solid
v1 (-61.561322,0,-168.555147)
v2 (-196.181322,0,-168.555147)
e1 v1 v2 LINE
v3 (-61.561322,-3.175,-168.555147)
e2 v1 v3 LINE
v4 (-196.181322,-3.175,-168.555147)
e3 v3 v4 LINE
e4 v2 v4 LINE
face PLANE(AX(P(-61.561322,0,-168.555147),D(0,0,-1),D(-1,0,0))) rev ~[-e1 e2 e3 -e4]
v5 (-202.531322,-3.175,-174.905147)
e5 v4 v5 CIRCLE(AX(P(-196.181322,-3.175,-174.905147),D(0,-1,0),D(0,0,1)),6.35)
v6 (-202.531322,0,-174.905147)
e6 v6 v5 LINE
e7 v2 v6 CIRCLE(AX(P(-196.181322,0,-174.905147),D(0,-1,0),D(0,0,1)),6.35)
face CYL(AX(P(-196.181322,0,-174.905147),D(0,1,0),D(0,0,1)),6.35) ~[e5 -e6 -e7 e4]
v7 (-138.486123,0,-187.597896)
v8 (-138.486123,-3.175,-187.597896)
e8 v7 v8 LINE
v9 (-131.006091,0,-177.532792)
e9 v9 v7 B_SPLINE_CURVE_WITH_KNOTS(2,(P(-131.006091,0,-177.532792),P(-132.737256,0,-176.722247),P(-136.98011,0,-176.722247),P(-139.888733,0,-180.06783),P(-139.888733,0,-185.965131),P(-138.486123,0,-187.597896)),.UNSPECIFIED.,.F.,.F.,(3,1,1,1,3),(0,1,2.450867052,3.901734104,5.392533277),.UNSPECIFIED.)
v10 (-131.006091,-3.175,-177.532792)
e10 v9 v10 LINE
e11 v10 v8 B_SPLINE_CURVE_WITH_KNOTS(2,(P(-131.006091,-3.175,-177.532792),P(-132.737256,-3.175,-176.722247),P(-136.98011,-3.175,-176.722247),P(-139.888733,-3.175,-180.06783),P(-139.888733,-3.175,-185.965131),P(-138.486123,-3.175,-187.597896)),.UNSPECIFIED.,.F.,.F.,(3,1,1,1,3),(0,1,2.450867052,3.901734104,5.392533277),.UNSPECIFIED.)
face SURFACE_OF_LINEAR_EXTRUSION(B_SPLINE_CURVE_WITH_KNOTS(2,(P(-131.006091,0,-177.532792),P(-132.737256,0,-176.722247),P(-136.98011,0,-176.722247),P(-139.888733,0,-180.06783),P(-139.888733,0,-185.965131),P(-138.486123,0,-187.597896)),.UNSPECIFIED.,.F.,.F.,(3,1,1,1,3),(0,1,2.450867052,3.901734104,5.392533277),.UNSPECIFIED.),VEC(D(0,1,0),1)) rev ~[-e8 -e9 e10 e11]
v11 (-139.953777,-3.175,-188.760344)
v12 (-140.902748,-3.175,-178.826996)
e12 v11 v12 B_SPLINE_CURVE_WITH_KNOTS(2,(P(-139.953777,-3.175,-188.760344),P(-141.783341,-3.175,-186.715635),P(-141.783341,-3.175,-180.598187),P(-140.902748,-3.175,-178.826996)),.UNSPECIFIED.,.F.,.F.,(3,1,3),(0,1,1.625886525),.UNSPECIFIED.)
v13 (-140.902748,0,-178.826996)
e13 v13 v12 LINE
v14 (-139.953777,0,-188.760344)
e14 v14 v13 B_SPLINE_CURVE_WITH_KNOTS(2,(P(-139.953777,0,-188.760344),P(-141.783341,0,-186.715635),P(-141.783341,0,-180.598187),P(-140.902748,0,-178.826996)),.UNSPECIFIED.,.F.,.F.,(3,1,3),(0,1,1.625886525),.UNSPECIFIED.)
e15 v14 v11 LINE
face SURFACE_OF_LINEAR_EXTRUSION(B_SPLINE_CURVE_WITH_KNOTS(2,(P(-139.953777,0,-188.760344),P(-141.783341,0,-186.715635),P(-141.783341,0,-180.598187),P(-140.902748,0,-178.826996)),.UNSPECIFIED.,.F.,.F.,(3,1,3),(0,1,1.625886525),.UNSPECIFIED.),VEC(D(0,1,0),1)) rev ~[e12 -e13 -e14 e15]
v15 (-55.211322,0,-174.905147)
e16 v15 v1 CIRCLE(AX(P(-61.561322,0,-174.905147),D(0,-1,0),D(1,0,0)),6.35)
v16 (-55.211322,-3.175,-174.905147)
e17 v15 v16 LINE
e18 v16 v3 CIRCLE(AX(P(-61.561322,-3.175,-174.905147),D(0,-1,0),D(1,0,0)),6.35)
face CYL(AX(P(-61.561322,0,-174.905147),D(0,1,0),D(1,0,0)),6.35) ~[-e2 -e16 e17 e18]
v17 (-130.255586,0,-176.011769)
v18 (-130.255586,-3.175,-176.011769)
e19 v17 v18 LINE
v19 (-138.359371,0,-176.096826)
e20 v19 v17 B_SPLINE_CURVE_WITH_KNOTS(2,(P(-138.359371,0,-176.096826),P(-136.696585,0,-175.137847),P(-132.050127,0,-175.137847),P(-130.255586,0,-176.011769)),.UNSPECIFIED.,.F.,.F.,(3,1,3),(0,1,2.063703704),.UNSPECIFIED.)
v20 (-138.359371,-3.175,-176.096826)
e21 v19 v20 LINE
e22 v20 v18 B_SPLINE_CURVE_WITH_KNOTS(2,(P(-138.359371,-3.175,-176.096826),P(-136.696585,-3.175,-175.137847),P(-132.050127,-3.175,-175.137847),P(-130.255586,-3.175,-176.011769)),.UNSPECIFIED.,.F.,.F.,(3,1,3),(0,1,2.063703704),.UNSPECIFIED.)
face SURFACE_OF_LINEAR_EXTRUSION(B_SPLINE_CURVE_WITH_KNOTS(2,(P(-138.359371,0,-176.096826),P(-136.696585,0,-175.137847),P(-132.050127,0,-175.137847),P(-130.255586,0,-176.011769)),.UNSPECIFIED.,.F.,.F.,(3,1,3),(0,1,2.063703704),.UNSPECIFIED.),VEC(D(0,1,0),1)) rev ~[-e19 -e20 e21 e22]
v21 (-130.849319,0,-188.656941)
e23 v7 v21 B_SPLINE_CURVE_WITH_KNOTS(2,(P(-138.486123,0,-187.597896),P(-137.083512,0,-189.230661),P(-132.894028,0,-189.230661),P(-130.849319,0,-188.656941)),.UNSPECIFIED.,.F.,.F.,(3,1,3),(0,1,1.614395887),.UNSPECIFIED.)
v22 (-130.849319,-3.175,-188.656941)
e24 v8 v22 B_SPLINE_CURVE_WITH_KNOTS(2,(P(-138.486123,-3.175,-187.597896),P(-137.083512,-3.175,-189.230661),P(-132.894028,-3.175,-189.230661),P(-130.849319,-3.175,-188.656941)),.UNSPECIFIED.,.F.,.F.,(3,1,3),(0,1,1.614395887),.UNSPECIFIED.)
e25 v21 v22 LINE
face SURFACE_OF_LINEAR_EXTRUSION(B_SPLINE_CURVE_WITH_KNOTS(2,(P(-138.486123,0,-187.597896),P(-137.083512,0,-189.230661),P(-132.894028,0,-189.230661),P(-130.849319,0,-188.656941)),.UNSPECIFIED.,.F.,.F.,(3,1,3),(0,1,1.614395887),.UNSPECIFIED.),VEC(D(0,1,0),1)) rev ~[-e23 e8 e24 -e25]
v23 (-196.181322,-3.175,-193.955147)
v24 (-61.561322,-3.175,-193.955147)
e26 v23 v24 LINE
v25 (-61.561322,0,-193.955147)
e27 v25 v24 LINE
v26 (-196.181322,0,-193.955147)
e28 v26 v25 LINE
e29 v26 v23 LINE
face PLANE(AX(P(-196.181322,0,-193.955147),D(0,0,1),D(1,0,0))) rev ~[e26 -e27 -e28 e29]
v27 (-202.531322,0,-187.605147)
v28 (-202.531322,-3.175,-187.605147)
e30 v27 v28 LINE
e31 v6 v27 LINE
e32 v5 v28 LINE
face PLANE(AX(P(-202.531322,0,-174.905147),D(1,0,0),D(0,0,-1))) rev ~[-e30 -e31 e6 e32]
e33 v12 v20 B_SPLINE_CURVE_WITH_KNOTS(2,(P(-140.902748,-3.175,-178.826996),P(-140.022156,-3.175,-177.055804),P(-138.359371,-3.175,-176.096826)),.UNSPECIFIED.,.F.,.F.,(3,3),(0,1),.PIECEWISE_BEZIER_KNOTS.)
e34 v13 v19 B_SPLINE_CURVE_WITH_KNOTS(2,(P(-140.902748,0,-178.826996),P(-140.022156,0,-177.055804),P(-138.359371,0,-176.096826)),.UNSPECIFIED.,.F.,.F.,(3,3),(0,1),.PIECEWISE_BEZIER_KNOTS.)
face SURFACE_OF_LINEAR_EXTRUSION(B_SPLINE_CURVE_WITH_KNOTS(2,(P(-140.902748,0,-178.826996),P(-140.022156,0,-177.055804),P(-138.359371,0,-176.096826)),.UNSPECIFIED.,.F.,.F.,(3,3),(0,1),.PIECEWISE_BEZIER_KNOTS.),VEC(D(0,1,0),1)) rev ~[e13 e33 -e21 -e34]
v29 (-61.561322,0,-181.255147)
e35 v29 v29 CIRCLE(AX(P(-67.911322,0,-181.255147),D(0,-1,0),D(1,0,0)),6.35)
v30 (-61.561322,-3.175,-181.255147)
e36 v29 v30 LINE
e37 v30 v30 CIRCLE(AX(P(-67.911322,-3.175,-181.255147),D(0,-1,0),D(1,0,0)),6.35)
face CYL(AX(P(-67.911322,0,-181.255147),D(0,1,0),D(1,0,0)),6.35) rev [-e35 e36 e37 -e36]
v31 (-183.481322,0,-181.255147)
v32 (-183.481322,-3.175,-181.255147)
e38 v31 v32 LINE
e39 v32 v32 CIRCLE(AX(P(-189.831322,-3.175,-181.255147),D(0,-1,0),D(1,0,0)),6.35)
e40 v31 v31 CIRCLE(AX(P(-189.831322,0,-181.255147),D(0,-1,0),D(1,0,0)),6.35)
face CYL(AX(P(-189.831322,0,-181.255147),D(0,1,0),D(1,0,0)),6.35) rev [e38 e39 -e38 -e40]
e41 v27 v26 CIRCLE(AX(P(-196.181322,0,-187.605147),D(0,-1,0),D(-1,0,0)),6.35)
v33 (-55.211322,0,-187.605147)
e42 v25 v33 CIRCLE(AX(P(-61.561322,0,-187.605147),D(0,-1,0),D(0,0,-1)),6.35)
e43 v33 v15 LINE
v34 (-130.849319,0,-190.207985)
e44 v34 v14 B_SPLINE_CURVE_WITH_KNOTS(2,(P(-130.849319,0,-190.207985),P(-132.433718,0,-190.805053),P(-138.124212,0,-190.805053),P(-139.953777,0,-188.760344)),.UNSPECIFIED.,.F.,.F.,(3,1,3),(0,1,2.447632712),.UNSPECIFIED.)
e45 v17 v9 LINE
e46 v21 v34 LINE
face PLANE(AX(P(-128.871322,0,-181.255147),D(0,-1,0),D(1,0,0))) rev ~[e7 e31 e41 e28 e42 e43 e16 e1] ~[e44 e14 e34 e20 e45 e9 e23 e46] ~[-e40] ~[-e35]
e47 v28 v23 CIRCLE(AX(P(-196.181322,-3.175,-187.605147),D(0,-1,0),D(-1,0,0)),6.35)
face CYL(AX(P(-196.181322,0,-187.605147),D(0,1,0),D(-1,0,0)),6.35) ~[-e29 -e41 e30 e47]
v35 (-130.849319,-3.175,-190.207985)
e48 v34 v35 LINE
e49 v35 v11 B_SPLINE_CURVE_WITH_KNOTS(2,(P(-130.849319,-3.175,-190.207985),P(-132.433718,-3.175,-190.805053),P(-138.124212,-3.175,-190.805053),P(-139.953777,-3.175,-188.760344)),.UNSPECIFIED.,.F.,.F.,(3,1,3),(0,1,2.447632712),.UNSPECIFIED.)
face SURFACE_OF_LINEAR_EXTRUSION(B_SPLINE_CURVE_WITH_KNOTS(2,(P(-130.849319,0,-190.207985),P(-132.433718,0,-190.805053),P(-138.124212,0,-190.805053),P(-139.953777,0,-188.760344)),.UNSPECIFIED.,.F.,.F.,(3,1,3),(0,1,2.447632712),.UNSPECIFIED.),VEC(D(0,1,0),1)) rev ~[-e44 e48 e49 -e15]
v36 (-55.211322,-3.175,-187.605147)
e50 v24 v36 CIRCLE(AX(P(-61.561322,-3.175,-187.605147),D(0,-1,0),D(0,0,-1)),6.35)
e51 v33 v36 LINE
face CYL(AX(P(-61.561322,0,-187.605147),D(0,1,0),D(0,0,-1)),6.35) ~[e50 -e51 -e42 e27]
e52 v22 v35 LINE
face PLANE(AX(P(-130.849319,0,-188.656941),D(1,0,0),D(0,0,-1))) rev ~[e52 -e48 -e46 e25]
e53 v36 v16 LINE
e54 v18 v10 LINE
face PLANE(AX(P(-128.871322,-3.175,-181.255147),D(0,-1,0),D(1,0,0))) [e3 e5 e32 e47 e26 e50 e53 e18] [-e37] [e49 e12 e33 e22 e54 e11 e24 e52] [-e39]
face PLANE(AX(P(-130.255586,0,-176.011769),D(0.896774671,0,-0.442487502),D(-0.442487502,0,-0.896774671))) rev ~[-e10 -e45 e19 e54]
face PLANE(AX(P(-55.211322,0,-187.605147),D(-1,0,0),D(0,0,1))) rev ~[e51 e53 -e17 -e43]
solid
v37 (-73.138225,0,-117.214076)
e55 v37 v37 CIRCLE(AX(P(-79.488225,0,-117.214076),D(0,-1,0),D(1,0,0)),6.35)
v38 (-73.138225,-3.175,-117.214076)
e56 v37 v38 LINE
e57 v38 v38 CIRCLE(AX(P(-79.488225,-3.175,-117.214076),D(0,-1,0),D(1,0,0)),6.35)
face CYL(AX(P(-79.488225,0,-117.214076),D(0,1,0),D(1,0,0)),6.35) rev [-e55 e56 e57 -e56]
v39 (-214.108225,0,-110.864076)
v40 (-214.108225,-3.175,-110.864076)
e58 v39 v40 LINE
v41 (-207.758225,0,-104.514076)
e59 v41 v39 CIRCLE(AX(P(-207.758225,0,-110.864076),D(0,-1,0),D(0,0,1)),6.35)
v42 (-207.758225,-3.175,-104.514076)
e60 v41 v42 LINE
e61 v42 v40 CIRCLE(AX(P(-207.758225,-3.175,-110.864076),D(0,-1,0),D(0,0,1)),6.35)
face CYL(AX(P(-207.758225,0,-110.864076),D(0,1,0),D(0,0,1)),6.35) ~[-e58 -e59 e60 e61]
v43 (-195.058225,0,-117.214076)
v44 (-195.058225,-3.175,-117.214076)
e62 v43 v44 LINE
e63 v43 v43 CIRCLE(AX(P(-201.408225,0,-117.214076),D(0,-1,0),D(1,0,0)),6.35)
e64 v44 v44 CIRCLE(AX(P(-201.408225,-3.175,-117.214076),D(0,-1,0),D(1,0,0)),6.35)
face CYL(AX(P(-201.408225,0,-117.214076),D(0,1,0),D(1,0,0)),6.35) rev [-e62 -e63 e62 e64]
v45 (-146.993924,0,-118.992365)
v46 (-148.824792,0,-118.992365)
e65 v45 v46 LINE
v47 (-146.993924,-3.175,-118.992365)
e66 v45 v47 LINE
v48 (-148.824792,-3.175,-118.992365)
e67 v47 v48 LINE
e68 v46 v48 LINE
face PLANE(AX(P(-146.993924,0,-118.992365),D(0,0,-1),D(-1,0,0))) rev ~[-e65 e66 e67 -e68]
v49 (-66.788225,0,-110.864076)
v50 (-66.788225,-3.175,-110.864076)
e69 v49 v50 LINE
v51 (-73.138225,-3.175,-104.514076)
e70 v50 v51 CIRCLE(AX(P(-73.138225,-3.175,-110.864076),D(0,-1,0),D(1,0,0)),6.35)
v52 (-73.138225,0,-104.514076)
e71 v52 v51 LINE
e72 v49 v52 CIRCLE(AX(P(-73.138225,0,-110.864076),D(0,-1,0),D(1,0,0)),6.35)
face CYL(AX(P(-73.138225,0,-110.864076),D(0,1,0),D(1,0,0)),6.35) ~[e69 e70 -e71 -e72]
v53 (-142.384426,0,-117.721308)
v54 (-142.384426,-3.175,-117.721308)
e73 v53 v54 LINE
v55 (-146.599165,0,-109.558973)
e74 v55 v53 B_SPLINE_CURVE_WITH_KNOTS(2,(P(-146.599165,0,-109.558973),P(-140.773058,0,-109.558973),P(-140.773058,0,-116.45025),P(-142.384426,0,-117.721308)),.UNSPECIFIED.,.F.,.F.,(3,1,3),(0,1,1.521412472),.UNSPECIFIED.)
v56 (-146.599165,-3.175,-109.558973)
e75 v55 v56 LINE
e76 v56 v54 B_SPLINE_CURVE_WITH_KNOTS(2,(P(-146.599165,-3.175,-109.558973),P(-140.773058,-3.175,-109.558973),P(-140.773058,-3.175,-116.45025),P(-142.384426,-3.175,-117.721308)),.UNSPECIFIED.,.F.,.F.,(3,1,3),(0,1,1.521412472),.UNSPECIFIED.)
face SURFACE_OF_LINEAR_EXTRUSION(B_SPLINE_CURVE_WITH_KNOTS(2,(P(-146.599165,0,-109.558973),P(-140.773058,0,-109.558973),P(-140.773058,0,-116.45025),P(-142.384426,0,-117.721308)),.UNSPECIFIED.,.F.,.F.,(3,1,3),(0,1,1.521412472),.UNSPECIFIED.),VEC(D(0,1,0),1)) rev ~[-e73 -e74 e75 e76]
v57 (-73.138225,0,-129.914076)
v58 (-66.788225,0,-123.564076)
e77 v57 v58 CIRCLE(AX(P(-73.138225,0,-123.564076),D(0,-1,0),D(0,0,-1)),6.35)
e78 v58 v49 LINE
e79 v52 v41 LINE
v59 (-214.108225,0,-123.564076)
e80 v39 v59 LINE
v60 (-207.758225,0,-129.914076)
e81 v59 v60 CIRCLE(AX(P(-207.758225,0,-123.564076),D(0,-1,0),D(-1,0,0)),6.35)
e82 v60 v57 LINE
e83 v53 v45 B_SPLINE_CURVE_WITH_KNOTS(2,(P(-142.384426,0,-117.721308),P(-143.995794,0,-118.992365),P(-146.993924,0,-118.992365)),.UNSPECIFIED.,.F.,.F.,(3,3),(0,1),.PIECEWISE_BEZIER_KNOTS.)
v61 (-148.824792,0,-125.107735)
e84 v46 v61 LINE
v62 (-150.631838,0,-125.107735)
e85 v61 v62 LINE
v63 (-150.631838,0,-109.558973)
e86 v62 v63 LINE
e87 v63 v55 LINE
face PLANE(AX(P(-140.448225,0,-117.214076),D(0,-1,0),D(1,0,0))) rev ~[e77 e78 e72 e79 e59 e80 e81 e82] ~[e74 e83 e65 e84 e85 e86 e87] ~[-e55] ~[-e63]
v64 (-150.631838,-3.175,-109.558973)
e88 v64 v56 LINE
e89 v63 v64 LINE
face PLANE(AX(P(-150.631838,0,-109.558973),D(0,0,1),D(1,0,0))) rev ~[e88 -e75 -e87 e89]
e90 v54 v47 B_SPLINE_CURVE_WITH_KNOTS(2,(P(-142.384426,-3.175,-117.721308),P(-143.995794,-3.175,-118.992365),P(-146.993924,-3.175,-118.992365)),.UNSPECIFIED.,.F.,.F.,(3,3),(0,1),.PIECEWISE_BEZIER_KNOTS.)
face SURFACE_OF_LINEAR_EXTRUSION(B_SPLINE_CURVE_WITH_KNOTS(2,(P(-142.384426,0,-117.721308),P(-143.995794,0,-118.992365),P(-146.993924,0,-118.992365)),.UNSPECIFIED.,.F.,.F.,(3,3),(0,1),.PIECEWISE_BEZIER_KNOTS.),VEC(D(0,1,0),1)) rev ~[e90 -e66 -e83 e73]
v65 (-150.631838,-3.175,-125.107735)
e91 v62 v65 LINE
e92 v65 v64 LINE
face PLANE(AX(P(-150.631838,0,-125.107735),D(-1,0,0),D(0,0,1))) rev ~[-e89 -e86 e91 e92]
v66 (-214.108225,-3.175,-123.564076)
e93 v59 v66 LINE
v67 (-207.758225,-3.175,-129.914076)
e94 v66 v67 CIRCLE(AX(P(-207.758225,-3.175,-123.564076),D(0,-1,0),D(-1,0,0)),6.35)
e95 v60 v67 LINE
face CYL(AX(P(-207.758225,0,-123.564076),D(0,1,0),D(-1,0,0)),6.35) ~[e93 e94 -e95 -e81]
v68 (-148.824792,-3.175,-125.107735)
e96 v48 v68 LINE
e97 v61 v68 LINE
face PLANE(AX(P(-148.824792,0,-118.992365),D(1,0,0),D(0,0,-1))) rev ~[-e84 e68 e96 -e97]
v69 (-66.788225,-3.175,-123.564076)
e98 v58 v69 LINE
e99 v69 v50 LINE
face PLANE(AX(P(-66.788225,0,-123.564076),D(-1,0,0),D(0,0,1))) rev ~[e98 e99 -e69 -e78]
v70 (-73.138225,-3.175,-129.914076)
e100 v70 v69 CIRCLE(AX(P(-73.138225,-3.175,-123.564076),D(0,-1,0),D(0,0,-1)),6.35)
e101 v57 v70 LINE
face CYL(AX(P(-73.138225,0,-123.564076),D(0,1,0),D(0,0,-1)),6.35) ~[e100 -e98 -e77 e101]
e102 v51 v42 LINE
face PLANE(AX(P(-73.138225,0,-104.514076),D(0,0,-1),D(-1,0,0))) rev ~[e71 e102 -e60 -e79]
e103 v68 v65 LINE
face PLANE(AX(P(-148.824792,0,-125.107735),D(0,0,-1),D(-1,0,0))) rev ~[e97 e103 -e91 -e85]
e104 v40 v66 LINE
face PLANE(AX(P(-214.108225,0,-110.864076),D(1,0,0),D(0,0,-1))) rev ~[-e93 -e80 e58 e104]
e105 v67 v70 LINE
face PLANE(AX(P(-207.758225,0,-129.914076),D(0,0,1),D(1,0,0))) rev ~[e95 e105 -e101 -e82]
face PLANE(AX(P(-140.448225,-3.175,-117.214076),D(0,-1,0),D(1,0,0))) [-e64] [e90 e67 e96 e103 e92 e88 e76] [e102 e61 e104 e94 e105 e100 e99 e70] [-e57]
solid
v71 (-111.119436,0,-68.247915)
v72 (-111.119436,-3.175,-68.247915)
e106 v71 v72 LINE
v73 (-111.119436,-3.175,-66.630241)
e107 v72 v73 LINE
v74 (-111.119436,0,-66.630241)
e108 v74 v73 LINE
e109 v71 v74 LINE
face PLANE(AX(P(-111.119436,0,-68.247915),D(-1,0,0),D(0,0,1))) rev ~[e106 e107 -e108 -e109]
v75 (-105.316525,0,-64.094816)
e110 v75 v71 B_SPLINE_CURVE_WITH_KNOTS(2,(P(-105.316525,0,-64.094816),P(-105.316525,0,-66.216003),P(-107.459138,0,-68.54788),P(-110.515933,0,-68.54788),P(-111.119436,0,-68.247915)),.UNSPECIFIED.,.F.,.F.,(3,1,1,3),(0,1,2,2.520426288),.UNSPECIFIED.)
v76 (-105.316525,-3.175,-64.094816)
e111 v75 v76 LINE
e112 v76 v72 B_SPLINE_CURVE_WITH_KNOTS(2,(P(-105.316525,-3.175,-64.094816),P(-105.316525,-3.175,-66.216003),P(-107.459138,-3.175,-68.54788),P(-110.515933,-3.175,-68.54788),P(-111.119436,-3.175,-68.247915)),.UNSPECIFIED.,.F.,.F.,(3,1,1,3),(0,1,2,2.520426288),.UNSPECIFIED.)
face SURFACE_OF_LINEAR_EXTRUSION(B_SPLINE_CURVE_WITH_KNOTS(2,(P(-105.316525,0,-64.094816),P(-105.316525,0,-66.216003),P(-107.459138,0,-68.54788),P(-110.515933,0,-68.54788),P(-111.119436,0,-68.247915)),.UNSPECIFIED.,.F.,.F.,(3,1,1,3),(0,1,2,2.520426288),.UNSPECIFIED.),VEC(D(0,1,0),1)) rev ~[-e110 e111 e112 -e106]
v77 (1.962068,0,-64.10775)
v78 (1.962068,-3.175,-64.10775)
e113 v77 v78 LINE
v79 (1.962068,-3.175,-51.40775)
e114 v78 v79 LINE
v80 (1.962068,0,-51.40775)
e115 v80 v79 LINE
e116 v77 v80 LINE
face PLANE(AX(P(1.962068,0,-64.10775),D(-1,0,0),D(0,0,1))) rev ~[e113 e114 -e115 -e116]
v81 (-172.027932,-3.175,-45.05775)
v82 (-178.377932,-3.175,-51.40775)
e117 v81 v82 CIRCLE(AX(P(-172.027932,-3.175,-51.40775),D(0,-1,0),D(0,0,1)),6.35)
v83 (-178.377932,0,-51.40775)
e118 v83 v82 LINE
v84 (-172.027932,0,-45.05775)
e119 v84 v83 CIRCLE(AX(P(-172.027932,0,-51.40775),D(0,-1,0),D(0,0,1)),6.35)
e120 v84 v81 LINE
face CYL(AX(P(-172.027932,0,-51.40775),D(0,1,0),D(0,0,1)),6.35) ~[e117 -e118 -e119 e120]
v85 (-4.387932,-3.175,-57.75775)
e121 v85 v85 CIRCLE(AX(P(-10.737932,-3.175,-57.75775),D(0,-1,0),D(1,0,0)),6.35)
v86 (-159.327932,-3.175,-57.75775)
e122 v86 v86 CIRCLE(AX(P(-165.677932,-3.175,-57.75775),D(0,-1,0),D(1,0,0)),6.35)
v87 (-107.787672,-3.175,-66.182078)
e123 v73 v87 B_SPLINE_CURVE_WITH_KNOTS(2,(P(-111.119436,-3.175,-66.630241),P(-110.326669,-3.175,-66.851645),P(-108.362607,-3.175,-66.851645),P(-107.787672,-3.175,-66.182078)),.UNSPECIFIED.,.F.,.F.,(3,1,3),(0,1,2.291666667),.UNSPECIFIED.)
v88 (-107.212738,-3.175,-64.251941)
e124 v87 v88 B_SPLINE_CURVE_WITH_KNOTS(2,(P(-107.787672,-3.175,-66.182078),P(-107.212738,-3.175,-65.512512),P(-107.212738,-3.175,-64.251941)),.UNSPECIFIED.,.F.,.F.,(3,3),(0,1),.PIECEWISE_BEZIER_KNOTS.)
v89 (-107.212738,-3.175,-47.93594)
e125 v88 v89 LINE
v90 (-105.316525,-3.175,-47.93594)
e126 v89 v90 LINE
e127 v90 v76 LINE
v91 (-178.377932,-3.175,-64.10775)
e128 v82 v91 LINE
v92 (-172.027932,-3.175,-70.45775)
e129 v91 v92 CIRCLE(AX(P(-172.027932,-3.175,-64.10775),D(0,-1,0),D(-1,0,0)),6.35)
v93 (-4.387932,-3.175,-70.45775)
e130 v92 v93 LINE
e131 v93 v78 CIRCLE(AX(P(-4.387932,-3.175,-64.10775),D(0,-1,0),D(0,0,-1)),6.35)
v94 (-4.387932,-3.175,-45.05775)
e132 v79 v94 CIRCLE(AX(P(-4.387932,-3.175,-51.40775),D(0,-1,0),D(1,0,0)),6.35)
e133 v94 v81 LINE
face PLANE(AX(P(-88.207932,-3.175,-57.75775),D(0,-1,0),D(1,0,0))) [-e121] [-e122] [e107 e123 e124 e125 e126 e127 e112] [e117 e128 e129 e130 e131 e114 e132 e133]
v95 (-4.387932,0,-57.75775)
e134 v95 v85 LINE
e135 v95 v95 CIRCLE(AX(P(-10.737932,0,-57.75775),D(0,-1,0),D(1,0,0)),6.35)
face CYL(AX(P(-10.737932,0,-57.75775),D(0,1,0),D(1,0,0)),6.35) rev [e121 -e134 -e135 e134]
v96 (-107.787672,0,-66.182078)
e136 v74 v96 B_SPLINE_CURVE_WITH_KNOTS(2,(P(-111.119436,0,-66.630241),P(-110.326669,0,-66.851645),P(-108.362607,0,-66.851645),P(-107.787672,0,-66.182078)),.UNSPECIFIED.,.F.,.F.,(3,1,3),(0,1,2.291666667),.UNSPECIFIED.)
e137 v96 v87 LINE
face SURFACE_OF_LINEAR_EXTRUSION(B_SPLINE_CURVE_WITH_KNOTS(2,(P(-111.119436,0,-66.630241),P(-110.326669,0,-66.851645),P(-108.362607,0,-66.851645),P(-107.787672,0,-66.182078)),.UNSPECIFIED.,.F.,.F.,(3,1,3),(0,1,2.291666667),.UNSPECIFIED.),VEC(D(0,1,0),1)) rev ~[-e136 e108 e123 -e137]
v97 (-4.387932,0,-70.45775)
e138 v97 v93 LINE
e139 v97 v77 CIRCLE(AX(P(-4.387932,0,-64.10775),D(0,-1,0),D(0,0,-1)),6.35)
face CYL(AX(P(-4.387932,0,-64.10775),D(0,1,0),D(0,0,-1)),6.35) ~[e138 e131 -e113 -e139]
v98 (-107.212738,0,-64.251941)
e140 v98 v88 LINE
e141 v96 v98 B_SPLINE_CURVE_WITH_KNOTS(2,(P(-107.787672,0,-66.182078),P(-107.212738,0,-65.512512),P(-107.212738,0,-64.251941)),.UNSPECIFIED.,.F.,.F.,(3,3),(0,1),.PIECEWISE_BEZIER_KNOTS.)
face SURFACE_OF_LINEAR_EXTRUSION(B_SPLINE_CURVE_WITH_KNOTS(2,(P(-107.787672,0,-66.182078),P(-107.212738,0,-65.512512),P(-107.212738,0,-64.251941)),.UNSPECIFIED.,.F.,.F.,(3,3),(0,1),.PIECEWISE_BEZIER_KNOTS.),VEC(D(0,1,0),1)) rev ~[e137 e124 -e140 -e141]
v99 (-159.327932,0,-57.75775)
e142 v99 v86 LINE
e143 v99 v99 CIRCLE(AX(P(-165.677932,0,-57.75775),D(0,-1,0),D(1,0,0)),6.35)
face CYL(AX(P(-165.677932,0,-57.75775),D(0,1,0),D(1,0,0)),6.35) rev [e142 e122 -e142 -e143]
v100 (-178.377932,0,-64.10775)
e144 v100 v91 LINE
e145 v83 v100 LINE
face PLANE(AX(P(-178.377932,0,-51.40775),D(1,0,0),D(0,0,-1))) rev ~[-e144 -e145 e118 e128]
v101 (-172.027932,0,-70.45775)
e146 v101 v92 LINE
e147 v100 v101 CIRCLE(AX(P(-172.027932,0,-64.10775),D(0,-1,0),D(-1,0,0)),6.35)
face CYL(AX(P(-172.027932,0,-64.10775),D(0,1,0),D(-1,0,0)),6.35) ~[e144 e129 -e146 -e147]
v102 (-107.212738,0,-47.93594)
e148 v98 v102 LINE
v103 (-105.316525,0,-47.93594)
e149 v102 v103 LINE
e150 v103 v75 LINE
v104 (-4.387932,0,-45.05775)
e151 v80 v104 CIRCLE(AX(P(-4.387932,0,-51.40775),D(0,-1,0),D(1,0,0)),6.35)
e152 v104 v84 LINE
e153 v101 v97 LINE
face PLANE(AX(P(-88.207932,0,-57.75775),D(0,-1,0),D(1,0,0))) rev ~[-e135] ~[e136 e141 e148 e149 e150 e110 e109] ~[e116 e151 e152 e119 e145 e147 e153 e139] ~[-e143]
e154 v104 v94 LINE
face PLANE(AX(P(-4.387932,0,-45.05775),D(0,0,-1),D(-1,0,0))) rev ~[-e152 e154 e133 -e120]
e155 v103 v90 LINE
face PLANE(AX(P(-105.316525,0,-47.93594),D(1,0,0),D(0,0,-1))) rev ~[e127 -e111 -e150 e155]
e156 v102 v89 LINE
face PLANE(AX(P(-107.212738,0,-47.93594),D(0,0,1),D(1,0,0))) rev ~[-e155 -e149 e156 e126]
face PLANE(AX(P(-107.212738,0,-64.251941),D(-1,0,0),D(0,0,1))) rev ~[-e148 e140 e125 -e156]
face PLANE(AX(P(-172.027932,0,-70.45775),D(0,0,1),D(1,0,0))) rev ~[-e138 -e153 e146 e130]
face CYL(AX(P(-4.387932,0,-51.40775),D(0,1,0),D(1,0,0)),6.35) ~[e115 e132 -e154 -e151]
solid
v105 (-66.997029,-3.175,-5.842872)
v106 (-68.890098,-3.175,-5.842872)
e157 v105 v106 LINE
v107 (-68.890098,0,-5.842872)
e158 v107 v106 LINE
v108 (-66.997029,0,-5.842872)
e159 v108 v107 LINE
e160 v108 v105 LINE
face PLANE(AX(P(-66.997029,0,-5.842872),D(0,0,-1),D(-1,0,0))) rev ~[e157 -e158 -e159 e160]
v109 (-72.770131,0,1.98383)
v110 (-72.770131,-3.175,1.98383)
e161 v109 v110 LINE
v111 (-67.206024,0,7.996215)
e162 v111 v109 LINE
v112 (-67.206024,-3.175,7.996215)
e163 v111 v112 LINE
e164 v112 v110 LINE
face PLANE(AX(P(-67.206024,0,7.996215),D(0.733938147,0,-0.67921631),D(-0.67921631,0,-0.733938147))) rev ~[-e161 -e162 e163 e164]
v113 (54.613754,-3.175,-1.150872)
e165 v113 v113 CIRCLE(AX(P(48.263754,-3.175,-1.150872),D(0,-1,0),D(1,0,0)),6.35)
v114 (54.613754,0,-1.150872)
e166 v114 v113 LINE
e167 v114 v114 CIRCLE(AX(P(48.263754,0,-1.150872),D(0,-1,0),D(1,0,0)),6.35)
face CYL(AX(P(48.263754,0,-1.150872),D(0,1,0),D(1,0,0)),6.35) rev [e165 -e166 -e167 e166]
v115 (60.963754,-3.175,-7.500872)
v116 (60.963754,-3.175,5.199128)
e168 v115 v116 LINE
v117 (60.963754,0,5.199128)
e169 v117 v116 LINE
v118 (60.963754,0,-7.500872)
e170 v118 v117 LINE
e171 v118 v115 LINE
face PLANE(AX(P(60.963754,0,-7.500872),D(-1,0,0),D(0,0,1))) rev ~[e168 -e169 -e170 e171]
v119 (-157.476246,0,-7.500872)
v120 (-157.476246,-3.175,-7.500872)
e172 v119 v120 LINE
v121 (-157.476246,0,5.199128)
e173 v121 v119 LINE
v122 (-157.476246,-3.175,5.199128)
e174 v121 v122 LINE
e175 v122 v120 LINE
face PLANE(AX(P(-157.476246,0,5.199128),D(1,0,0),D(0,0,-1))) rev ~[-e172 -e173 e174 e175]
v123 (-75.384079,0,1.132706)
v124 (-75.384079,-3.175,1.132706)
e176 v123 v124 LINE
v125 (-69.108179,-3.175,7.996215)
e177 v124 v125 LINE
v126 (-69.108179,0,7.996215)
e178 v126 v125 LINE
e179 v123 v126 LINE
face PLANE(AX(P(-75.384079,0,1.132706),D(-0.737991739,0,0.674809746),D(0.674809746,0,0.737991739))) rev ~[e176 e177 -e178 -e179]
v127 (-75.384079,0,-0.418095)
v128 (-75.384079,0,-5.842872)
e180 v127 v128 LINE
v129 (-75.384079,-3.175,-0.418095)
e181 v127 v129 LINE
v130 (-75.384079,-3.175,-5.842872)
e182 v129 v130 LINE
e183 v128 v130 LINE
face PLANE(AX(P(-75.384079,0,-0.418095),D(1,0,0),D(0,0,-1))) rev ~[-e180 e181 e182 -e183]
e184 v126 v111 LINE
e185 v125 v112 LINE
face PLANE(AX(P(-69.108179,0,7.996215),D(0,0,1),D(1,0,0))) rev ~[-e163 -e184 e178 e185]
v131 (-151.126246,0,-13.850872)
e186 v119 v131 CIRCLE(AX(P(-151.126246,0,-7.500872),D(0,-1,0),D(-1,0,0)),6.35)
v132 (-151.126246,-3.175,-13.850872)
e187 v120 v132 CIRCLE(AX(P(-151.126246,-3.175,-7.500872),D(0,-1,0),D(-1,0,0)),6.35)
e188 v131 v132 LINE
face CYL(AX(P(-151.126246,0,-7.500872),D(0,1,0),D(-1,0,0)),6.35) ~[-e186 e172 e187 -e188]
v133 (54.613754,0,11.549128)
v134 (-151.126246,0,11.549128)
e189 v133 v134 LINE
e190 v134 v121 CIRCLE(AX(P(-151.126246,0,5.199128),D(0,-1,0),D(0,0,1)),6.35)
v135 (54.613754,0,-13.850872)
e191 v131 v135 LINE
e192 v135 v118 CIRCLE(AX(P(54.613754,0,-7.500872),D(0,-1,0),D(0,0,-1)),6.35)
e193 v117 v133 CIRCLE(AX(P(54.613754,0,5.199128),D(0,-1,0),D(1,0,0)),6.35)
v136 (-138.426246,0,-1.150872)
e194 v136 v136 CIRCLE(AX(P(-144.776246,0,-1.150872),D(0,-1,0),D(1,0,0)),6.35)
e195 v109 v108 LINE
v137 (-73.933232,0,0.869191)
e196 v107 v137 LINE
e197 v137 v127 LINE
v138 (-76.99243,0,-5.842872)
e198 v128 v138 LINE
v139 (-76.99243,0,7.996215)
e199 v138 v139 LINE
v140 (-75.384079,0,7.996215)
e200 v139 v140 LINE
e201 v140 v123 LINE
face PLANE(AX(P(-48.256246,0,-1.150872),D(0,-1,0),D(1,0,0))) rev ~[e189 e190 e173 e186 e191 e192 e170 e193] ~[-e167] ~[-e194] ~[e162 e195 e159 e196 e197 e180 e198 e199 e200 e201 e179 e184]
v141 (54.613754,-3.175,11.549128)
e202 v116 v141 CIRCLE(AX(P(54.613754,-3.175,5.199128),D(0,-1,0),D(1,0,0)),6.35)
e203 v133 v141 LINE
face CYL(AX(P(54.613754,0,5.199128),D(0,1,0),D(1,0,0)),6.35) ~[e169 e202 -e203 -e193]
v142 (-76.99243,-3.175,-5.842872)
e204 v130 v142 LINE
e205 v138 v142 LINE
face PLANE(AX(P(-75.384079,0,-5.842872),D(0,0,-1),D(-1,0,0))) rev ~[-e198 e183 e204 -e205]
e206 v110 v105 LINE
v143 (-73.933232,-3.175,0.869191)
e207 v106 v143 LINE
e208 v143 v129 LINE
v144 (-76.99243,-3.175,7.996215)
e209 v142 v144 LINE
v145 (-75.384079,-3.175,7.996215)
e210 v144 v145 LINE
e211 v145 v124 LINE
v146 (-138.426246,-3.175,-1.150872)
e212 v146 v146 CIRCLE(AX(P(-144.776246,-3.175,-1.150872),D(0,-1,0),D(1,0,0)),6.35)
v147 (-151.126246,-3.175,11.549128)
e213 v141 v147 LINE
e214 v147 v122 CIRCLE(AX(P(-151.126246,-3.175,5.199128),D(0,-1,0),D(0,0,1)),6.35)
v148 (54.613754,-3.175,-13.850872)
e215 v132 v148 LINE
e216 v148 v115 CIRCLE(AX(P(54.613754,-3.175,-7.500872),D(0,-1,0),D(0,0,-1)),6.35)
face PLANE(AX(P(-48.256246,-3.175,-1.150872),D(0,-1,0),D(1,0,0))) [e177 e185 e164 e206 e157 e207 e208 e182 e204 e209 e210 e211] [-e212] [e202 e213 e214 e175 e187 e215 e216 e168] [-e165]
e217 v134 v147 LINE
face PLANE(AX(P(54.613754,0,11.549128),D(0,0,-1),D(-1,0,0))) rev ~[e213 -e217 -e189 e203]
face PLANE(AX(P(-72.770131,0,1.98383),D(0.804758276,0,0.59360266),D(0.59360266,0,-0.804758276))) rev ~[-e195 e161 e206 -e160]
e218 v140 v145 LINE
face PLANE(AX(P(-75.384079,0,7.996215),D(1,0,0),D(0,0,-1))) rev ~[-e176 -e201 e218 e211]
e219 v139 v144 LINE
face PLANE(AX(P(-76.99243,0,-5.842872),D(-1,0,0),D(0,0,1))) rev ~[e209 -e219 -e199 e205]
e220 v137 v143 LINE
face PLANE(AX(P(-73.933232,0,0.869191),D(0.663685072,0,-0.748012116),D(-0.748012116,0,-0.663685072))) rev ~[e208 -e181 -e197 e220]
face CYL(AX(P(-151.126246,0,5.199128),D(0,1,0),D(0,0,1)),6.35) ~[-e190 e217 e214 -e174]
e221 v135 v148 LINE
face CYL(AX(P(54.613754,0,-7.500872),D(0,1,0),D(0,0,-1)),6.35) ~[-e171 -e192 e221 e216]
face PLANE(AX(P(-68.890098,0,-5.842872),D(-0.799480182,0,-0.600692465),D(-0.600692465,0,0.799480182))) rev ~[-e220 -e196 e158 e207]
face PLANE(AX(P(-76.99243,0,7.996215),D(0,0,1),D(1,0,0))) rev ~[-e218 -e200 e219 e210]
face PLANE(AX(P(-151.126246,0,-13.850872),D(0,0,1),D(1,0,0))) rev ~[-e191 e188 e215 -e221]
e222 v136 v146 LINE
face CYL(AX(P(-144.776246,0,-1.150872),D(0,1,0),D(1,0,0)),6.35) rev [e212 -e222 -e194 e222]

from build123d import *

# Parameters (mm, degrees)
F0_R     = 6.35
F1_DEPTH = 3.175
F2_R     = 6.35
F3_DEPTH = 3.175
F4_R     = 6.35
F5_DEPTH = 3.175
F6_R     = 6.35
F7_DEPTH = 3.175


with BuildPart() as f1:
    # F0 (on Front) → F1 (new body)
    with BuildSketch(Plane.XZ):
        with BuildLine():
            Line((54.613753643, 11.5491279232), (-151.126246357, 11.5491279232))
            ThreePointArc((-151.126246357, 11.5491279232), (-155.6163744175, 9.6892559838), (-157.476246357, 5.1991279232))
            Line((-157.476246357, 5.1991279232), (-157.476246357, -7.5008720768))
            ThreePointArc((-157.476246357, -7.5008720768), (-155.6163744175, -11.9910001373), (-151.126246357, -13.8508720768))
            Line((-151.126246357, -13.8508720768), (54.613753643, -13.8508720768))
            ThreePointArc((54.613753643, -13.8508720768), (59.1038817036, -11.9910001373), (60.963753643, -7.5008720768))
            Line((60.963753643, -7.5008720768), (60.963753643, 5.1991279232))
            ThreePointArc((60.963753643, 5.1991279232), (59.1038817036, 9.6892559838), (54.613753643, 11.5491279232))
        make_face()
        with Locations((-144.776246357, -1.1508720768)):
            Circle(F0_R, mode=Mode.SUBTRACT)
        with Locations((48.263753643, -1.1508720768)):
            Circle(F0_R, mode=Mode.SUBTRACT)
        Polygon((-72.7701305526, 1.9838299405), (-66.9970292252, -5.842871964), (-68.8900976038, -5.842871964), (-73.9332317644, 0.8691912792), (-75.3840793697, -0.4180952183), (-75.3840793697, -5.842871964), (-76.9924302642, -5.842871964), (-76.9924302642, 7.9962151109), (-75.3840793697, 7.9962151109), (-75.3840793697, 1.1327063975), (-69.108179081, 7.9962151109), (-67.2060239742, 7.9962151109), align=None, mode=Mode.SUBTRACT)
    extrude(amount=F1_DEPTH)


with BuildPart() as f3:
    # F2 (on Front) → F3 (new body)
    with BuildSketch(Plane.XZ):
        with BuildLine():
            Line((-4.3879321891, -45.0577498466), (-172.0279321891, -45.0577498466))
            ThreePointArc((-172.0279321891, -45.0577498466), (-176.5180602496, -46.917621786), (-178.3779321891, -51.4077498466))
            Line((-178.3779321891, -51.4077498466), (-178.3779321891, -64.1077498466))
            ThreePointArc((-178.3779321891, -64.1077498466), (-176.5180602496, -68.5978779071), (-172.0279321891, -70.4577498466))
            Line((-172.0279321891, -70.4577498466), (-4.3879321891, -70.4577498466))
            ThreePointArc((-4.3879321891, -70.4577498466), (0.1021958714, -68.5978779071), (1.9620678109, -64.1077498466))
            Line((1.9620678109, -64.1077498466), (1.9620678109, -51.4077498466))
            ThreePointArc((1.9620678109, -51.4077498466), (0.1021958714, -46.917621786), (-4.3879321891, -45.0577498466))
        make_face()
        with BuildLine():
            add(Edge.make_bspline(
                [(-106.3878316248, -67.3819416657), (-107.4591382882, -68.5478804177), (-109.4696237932, -68.5478804177)],
                knots=[0, 0, 0, 1, 1, 1], degree=2))
            add(Edge.make_bspline(
                [(-109.4696237932, -68.5478804177), (-110.5159333011, -68.5478804177), (-111.1194360549, -68.247914552)],
                knots=[0, 0, 0, 1, 1, 1], degree=2))
            Line((-111.1194360549, -68.247914552), (-111.1194360549, -66.6302414902))
            add(Edge.make_bspline(
                [(-111.1194360549, -66.6302414902), (-110.3266691239, -66.8516448673), (-109.4696237932, -66.8516448673)],
                knots=[0, 0, 0, 1, 1, 1], degree=2))
            add(Edge.make_bspline(
                [(-109.4696237932, -66.8516448673), (-108.3626069077, -66.8516448673), (-107.7876723316, -66.1820782027)],
                knots=[0, 0, 0, 1, 1, 1], degree=2))
            add(Edge.make_bspline(
                [(-107.7876723316, -66.1820782027), (-107.2127377556, -65.512511538), (-107.2127377556, -64.2519406974)],
                knots=[0, 0, 0, 1, 1, 1], degree=2))
            Line((-107.2127377556, -64.2519406974), (-107.2127377556, -47.9359402137))
            Line((-107.2127377556, -47.9359402137), (-105.3165249614, -47.9359402137))
            Line((-105.3165249614, -47.9359402137), (-105.3165249614, -64.0948157201))
            add(Edge.make_bspline(
                [(-105.3165249614, -64.0948157201), (-105.3165249614, -66.2160029137), (-106.3878316248, -67.3819416657)],
                knots=[0, 0, 0, 1, 1, 1], degree=2))
        make_face(mode=Mode.SUBTRACT)
        with Locations((-165.6779321891, -57.7577498466)):
            Circle(F2_R, mode=Mode.SUBTRACT)
        with Locations((-10.7379321891, -57.7577498466)):
            Circle(F2_R, mode=Mode.SUBTRACT)
    extrude(amount=F3_DEPTH)


with BuildPart() as f5:
    # F4 (on Front) → F5 (new body)
    with BuildSketch(Plane.XZ):
        with BuildLine():
            Line((-73.1382252097, -104.514076221), (-207.7582252097, -104.514076221))
            ThreePointArc((-207.7582252097, -104.514076221), (-212.2483532702, -106.3739481605), (-214.1082252097, -110.864076221))
            Line((-214.1082252097, -110.864076221), (-214.1082252097, -123.564076221))
            ThreePointArc((-214.1082252097, -123.564076221), (-212.2483532702, -128.0542042815), (-207.7582252097, -129.914076221))
            Line((-207.7582252097, -129.914076221), (-73.1382252097, -129.914076221))
            ThreePointArc((-73.1382252097, -129.914076221), (-68.6480971492, -128.0542042815), (-66.7882252097, -123.564076221))
            Line((-66.7882252097, -123.564076221), (-66.7882252097, -110.864076221))
            ThreePointArc((-66.7882252097, -110.864076221), (-68.6480971492, -106.3739481605), (-73.1382252097, -104.514076221))
        make_face()
        with BuildLine():
            add(Edge.make_bspline(
                [(-146.5991649036, -109.5589734274), (-140.7730584275, -109.5589734274), (-140.7730584275, -114.0884989646)],
                knots=[0, 0, 0, 1, 1, 1], degree=2))
            add(Edge.make_bspline(
                [(-140.7730584275, -114.0884989646), (-140.7730584275, -116.4502500712), (-142.3844260773, -117.7213077632)],
                knots=[0, 0, 0, 1, 1, 1], degree=2))
            add(Edge.make_bspline(
                [(-142.3844260773, -117.7213077632), (-143.9957937271, -118.9923654553), (-146.9939244546, -118.9923654553)],
                knots=[0, 0, 0, 1, 1, 1], degree=2))
            Line((-146.9939244546, -118.9923654553), (-148.8247920271, -118.9923654553))
            Line((-148.8247920271, -118.9923654553), (-148.8247920271, -125.1077353954))
            Line((-148.8247920271, -125.1077353954), (-150.6318379025, -125.1077353954))
            Line((-150.6318379025, -125.1077353954), (-150.6318379025, -109.5589734274))
            Line((-150.6318379025, -109.5589734274), (-146.5991649036, -109.5589734274))
        make_face(mode=Mode.SUBTRACT)
        with Locations((-201.4082252097, -117.214076221)):
            Circle(F4_R, mode=Mode.SUBTRACT)
        with Locations((-79.4882252097, -117.214076221)):
            Circle(F4_R, mode=Mode.SUBTRACT)
    extrude(amount=F5_DEPTH)


with BuildPart() as f7:
    # F6 (on Front) → F7 (new body)
    with BuildSketch(Plane.XZ):
        with BuildLine():
            Line((-61.5613216782, -168.5551468611), (-196.1813216782, -168.5551468611))
            ThreePointArc((-196.1813216782, -168.5551468611), (-200.6714497387, -170.4150188005), (-202.5313216782, -174.9051468611))
            Line((-202.5313216782, -174.9051468611), (-202.5313216782, -187.6051468611))
            ThreePointArc((-202.5313216782, -187.6051468611), (-200.6714497387, -192.0952749216), (-196.1813216782, -193.9551468611))
            Line((-196.1813216782, -193.9551468611), (-61.5613216782, -193.9551468611))
            ThreePointArc((-61.5613216782, -193.9551468611), (-57.0711936176, -192.0952749216), (-55.2113216782, -187.6051468611))
            Line((-55.2113216782, -187.6051468611), (-55.2113216782, -174.9051468611))
            ThreePointArc((-55.2113216782, -174.9051468611), (-57.0711936176, -170.4150188005), (-61.5613216782, -168.5551468611))
        make_face()
        with Locations((-189.8313216782, -181.2551468611)):
            Circle(F6_R, mode=Mode.SUBTRACT)
        with BuildLine():
            add(Edge.make_bspline(
                [(-131.0060910053, -177.5327917551), (-132.7372555065, -176.7222465262), (-134.4684200077, -176.7222465262)],
                knots=[0, 0, 0, 1, 1, 1], degree=2))
            add(Edge.make_bspline(
                [(-134.4684200077, -176.7222465262), (-136.9801095441, -176.7222465262), (-138.4344211482, -178.3950384286)],
                knots=[0, 0, 0, 1, 1, 1], degree=2))
            add(Edge.make_bspline(
                [(-138.4344211482, -178.3950384286), (-139.8887327523, -180.067830331), (-139.8887327523, -182.9764535392)],
                knots=[0, 0, 0, 1, 1, 1], degree=2))
            add(Edge.make_bspline(
                [(-139.8887327523, -182.9764535392), (-139.8887327523, -185.9651305971), (-138.4861225928, -187.5978955747)],
                knots=[0, 0, 0, 1, 1, 1], degree=2))
            add(Edge.make_bspline(
                [(-138.4861225928, -187.5978955747), (-137.0835124334, -189.2306605522), (-134.4884334701, -189.2306605522)],
                knots=[0, 0, 0, 1, 1, 1], degree=2))
            add(Edge.make_bspline(
                [(-134.4884334701, -189.2306605522), (-132.8940276289, -189.2306605522), (-130.8493188828, -188.6569412955)],
                knots=[0, 0, 0, 1, 1, 1], degree=2))
            Line((-130.8493188828, -188.6569412955), (-130.8493188828, -190.2079846348))
            add(Edge.make_bspline(
                [(-130.8493188828, -190.2079846348), (-132.4337179928, -190.805052931), (-134.7586152131, -190.805052931)],
                knots=[0, 0, 0, 1, 1, 1], degree=2))
            add(Edge.make_bspline(
                [(-134.7586152131, -190.805052931), (-138.1242124804, -190.805052931), (-139.9537765052, -188.7603441848)],
                knots=[0, 0, 0, 1, 1, 1], degree=2))
            add(Edge.make_bspline(
                [(-139.9537765052, -188.7603441848), (-141.7833405301, -186.7156354387), (-141.7833405301, -182.9531044997)],
                knots=[0, 0, 0, 1, 1, 1], degree=2))
            add(Edge.make_bspline(
                [(-141.7833405301, -182.9531044997), (-141.7833405301, -180.5981870857), (-140.9027481827, -178.8269956596)],
                knots=[0, 0, 0, 1, 1, 1], degree=2))
            add(Edge.make_bspline(
                [(-140.9027481827, -178.8269956596), (-140.0221558352, -177.0558042335), (-138.359370664, -176.0968258249)],
                knots=[0, 0, 0, 1, 1, 1], degree=2))
            add(Edge.make_bspline(
                [(-138.359370664, -176.0968258249), (-136.6965854929, -175.1378474162), (-134.4450709682, -175.1378474162)],
                knots=[0, 0, 0, 1, 1, 1], degree=2))
            add(Edge.make_bspline(
                [(-134.4450709682, -175.1378474162), (-132.0501266293, -175.1378474162), (-130.2555861637, -176.0117686095)],
                knots=[0, 0, 0, 1, 1, 1], degree=2))
            Line((-130.2555861637, -176.0117686095), (-131.0060910053, -177.5327917551))
        make_face(mode=Mode.SUBTRACT)
        with Locations((-67.9113216782, -181.2551468611)):
            Circle(F6_R, mode=Mode.SUBTRACT)
    extrude(amount=F7_DEPTH)


solid = Compound([f1.part, f3.part, f5.part, f7.part])
